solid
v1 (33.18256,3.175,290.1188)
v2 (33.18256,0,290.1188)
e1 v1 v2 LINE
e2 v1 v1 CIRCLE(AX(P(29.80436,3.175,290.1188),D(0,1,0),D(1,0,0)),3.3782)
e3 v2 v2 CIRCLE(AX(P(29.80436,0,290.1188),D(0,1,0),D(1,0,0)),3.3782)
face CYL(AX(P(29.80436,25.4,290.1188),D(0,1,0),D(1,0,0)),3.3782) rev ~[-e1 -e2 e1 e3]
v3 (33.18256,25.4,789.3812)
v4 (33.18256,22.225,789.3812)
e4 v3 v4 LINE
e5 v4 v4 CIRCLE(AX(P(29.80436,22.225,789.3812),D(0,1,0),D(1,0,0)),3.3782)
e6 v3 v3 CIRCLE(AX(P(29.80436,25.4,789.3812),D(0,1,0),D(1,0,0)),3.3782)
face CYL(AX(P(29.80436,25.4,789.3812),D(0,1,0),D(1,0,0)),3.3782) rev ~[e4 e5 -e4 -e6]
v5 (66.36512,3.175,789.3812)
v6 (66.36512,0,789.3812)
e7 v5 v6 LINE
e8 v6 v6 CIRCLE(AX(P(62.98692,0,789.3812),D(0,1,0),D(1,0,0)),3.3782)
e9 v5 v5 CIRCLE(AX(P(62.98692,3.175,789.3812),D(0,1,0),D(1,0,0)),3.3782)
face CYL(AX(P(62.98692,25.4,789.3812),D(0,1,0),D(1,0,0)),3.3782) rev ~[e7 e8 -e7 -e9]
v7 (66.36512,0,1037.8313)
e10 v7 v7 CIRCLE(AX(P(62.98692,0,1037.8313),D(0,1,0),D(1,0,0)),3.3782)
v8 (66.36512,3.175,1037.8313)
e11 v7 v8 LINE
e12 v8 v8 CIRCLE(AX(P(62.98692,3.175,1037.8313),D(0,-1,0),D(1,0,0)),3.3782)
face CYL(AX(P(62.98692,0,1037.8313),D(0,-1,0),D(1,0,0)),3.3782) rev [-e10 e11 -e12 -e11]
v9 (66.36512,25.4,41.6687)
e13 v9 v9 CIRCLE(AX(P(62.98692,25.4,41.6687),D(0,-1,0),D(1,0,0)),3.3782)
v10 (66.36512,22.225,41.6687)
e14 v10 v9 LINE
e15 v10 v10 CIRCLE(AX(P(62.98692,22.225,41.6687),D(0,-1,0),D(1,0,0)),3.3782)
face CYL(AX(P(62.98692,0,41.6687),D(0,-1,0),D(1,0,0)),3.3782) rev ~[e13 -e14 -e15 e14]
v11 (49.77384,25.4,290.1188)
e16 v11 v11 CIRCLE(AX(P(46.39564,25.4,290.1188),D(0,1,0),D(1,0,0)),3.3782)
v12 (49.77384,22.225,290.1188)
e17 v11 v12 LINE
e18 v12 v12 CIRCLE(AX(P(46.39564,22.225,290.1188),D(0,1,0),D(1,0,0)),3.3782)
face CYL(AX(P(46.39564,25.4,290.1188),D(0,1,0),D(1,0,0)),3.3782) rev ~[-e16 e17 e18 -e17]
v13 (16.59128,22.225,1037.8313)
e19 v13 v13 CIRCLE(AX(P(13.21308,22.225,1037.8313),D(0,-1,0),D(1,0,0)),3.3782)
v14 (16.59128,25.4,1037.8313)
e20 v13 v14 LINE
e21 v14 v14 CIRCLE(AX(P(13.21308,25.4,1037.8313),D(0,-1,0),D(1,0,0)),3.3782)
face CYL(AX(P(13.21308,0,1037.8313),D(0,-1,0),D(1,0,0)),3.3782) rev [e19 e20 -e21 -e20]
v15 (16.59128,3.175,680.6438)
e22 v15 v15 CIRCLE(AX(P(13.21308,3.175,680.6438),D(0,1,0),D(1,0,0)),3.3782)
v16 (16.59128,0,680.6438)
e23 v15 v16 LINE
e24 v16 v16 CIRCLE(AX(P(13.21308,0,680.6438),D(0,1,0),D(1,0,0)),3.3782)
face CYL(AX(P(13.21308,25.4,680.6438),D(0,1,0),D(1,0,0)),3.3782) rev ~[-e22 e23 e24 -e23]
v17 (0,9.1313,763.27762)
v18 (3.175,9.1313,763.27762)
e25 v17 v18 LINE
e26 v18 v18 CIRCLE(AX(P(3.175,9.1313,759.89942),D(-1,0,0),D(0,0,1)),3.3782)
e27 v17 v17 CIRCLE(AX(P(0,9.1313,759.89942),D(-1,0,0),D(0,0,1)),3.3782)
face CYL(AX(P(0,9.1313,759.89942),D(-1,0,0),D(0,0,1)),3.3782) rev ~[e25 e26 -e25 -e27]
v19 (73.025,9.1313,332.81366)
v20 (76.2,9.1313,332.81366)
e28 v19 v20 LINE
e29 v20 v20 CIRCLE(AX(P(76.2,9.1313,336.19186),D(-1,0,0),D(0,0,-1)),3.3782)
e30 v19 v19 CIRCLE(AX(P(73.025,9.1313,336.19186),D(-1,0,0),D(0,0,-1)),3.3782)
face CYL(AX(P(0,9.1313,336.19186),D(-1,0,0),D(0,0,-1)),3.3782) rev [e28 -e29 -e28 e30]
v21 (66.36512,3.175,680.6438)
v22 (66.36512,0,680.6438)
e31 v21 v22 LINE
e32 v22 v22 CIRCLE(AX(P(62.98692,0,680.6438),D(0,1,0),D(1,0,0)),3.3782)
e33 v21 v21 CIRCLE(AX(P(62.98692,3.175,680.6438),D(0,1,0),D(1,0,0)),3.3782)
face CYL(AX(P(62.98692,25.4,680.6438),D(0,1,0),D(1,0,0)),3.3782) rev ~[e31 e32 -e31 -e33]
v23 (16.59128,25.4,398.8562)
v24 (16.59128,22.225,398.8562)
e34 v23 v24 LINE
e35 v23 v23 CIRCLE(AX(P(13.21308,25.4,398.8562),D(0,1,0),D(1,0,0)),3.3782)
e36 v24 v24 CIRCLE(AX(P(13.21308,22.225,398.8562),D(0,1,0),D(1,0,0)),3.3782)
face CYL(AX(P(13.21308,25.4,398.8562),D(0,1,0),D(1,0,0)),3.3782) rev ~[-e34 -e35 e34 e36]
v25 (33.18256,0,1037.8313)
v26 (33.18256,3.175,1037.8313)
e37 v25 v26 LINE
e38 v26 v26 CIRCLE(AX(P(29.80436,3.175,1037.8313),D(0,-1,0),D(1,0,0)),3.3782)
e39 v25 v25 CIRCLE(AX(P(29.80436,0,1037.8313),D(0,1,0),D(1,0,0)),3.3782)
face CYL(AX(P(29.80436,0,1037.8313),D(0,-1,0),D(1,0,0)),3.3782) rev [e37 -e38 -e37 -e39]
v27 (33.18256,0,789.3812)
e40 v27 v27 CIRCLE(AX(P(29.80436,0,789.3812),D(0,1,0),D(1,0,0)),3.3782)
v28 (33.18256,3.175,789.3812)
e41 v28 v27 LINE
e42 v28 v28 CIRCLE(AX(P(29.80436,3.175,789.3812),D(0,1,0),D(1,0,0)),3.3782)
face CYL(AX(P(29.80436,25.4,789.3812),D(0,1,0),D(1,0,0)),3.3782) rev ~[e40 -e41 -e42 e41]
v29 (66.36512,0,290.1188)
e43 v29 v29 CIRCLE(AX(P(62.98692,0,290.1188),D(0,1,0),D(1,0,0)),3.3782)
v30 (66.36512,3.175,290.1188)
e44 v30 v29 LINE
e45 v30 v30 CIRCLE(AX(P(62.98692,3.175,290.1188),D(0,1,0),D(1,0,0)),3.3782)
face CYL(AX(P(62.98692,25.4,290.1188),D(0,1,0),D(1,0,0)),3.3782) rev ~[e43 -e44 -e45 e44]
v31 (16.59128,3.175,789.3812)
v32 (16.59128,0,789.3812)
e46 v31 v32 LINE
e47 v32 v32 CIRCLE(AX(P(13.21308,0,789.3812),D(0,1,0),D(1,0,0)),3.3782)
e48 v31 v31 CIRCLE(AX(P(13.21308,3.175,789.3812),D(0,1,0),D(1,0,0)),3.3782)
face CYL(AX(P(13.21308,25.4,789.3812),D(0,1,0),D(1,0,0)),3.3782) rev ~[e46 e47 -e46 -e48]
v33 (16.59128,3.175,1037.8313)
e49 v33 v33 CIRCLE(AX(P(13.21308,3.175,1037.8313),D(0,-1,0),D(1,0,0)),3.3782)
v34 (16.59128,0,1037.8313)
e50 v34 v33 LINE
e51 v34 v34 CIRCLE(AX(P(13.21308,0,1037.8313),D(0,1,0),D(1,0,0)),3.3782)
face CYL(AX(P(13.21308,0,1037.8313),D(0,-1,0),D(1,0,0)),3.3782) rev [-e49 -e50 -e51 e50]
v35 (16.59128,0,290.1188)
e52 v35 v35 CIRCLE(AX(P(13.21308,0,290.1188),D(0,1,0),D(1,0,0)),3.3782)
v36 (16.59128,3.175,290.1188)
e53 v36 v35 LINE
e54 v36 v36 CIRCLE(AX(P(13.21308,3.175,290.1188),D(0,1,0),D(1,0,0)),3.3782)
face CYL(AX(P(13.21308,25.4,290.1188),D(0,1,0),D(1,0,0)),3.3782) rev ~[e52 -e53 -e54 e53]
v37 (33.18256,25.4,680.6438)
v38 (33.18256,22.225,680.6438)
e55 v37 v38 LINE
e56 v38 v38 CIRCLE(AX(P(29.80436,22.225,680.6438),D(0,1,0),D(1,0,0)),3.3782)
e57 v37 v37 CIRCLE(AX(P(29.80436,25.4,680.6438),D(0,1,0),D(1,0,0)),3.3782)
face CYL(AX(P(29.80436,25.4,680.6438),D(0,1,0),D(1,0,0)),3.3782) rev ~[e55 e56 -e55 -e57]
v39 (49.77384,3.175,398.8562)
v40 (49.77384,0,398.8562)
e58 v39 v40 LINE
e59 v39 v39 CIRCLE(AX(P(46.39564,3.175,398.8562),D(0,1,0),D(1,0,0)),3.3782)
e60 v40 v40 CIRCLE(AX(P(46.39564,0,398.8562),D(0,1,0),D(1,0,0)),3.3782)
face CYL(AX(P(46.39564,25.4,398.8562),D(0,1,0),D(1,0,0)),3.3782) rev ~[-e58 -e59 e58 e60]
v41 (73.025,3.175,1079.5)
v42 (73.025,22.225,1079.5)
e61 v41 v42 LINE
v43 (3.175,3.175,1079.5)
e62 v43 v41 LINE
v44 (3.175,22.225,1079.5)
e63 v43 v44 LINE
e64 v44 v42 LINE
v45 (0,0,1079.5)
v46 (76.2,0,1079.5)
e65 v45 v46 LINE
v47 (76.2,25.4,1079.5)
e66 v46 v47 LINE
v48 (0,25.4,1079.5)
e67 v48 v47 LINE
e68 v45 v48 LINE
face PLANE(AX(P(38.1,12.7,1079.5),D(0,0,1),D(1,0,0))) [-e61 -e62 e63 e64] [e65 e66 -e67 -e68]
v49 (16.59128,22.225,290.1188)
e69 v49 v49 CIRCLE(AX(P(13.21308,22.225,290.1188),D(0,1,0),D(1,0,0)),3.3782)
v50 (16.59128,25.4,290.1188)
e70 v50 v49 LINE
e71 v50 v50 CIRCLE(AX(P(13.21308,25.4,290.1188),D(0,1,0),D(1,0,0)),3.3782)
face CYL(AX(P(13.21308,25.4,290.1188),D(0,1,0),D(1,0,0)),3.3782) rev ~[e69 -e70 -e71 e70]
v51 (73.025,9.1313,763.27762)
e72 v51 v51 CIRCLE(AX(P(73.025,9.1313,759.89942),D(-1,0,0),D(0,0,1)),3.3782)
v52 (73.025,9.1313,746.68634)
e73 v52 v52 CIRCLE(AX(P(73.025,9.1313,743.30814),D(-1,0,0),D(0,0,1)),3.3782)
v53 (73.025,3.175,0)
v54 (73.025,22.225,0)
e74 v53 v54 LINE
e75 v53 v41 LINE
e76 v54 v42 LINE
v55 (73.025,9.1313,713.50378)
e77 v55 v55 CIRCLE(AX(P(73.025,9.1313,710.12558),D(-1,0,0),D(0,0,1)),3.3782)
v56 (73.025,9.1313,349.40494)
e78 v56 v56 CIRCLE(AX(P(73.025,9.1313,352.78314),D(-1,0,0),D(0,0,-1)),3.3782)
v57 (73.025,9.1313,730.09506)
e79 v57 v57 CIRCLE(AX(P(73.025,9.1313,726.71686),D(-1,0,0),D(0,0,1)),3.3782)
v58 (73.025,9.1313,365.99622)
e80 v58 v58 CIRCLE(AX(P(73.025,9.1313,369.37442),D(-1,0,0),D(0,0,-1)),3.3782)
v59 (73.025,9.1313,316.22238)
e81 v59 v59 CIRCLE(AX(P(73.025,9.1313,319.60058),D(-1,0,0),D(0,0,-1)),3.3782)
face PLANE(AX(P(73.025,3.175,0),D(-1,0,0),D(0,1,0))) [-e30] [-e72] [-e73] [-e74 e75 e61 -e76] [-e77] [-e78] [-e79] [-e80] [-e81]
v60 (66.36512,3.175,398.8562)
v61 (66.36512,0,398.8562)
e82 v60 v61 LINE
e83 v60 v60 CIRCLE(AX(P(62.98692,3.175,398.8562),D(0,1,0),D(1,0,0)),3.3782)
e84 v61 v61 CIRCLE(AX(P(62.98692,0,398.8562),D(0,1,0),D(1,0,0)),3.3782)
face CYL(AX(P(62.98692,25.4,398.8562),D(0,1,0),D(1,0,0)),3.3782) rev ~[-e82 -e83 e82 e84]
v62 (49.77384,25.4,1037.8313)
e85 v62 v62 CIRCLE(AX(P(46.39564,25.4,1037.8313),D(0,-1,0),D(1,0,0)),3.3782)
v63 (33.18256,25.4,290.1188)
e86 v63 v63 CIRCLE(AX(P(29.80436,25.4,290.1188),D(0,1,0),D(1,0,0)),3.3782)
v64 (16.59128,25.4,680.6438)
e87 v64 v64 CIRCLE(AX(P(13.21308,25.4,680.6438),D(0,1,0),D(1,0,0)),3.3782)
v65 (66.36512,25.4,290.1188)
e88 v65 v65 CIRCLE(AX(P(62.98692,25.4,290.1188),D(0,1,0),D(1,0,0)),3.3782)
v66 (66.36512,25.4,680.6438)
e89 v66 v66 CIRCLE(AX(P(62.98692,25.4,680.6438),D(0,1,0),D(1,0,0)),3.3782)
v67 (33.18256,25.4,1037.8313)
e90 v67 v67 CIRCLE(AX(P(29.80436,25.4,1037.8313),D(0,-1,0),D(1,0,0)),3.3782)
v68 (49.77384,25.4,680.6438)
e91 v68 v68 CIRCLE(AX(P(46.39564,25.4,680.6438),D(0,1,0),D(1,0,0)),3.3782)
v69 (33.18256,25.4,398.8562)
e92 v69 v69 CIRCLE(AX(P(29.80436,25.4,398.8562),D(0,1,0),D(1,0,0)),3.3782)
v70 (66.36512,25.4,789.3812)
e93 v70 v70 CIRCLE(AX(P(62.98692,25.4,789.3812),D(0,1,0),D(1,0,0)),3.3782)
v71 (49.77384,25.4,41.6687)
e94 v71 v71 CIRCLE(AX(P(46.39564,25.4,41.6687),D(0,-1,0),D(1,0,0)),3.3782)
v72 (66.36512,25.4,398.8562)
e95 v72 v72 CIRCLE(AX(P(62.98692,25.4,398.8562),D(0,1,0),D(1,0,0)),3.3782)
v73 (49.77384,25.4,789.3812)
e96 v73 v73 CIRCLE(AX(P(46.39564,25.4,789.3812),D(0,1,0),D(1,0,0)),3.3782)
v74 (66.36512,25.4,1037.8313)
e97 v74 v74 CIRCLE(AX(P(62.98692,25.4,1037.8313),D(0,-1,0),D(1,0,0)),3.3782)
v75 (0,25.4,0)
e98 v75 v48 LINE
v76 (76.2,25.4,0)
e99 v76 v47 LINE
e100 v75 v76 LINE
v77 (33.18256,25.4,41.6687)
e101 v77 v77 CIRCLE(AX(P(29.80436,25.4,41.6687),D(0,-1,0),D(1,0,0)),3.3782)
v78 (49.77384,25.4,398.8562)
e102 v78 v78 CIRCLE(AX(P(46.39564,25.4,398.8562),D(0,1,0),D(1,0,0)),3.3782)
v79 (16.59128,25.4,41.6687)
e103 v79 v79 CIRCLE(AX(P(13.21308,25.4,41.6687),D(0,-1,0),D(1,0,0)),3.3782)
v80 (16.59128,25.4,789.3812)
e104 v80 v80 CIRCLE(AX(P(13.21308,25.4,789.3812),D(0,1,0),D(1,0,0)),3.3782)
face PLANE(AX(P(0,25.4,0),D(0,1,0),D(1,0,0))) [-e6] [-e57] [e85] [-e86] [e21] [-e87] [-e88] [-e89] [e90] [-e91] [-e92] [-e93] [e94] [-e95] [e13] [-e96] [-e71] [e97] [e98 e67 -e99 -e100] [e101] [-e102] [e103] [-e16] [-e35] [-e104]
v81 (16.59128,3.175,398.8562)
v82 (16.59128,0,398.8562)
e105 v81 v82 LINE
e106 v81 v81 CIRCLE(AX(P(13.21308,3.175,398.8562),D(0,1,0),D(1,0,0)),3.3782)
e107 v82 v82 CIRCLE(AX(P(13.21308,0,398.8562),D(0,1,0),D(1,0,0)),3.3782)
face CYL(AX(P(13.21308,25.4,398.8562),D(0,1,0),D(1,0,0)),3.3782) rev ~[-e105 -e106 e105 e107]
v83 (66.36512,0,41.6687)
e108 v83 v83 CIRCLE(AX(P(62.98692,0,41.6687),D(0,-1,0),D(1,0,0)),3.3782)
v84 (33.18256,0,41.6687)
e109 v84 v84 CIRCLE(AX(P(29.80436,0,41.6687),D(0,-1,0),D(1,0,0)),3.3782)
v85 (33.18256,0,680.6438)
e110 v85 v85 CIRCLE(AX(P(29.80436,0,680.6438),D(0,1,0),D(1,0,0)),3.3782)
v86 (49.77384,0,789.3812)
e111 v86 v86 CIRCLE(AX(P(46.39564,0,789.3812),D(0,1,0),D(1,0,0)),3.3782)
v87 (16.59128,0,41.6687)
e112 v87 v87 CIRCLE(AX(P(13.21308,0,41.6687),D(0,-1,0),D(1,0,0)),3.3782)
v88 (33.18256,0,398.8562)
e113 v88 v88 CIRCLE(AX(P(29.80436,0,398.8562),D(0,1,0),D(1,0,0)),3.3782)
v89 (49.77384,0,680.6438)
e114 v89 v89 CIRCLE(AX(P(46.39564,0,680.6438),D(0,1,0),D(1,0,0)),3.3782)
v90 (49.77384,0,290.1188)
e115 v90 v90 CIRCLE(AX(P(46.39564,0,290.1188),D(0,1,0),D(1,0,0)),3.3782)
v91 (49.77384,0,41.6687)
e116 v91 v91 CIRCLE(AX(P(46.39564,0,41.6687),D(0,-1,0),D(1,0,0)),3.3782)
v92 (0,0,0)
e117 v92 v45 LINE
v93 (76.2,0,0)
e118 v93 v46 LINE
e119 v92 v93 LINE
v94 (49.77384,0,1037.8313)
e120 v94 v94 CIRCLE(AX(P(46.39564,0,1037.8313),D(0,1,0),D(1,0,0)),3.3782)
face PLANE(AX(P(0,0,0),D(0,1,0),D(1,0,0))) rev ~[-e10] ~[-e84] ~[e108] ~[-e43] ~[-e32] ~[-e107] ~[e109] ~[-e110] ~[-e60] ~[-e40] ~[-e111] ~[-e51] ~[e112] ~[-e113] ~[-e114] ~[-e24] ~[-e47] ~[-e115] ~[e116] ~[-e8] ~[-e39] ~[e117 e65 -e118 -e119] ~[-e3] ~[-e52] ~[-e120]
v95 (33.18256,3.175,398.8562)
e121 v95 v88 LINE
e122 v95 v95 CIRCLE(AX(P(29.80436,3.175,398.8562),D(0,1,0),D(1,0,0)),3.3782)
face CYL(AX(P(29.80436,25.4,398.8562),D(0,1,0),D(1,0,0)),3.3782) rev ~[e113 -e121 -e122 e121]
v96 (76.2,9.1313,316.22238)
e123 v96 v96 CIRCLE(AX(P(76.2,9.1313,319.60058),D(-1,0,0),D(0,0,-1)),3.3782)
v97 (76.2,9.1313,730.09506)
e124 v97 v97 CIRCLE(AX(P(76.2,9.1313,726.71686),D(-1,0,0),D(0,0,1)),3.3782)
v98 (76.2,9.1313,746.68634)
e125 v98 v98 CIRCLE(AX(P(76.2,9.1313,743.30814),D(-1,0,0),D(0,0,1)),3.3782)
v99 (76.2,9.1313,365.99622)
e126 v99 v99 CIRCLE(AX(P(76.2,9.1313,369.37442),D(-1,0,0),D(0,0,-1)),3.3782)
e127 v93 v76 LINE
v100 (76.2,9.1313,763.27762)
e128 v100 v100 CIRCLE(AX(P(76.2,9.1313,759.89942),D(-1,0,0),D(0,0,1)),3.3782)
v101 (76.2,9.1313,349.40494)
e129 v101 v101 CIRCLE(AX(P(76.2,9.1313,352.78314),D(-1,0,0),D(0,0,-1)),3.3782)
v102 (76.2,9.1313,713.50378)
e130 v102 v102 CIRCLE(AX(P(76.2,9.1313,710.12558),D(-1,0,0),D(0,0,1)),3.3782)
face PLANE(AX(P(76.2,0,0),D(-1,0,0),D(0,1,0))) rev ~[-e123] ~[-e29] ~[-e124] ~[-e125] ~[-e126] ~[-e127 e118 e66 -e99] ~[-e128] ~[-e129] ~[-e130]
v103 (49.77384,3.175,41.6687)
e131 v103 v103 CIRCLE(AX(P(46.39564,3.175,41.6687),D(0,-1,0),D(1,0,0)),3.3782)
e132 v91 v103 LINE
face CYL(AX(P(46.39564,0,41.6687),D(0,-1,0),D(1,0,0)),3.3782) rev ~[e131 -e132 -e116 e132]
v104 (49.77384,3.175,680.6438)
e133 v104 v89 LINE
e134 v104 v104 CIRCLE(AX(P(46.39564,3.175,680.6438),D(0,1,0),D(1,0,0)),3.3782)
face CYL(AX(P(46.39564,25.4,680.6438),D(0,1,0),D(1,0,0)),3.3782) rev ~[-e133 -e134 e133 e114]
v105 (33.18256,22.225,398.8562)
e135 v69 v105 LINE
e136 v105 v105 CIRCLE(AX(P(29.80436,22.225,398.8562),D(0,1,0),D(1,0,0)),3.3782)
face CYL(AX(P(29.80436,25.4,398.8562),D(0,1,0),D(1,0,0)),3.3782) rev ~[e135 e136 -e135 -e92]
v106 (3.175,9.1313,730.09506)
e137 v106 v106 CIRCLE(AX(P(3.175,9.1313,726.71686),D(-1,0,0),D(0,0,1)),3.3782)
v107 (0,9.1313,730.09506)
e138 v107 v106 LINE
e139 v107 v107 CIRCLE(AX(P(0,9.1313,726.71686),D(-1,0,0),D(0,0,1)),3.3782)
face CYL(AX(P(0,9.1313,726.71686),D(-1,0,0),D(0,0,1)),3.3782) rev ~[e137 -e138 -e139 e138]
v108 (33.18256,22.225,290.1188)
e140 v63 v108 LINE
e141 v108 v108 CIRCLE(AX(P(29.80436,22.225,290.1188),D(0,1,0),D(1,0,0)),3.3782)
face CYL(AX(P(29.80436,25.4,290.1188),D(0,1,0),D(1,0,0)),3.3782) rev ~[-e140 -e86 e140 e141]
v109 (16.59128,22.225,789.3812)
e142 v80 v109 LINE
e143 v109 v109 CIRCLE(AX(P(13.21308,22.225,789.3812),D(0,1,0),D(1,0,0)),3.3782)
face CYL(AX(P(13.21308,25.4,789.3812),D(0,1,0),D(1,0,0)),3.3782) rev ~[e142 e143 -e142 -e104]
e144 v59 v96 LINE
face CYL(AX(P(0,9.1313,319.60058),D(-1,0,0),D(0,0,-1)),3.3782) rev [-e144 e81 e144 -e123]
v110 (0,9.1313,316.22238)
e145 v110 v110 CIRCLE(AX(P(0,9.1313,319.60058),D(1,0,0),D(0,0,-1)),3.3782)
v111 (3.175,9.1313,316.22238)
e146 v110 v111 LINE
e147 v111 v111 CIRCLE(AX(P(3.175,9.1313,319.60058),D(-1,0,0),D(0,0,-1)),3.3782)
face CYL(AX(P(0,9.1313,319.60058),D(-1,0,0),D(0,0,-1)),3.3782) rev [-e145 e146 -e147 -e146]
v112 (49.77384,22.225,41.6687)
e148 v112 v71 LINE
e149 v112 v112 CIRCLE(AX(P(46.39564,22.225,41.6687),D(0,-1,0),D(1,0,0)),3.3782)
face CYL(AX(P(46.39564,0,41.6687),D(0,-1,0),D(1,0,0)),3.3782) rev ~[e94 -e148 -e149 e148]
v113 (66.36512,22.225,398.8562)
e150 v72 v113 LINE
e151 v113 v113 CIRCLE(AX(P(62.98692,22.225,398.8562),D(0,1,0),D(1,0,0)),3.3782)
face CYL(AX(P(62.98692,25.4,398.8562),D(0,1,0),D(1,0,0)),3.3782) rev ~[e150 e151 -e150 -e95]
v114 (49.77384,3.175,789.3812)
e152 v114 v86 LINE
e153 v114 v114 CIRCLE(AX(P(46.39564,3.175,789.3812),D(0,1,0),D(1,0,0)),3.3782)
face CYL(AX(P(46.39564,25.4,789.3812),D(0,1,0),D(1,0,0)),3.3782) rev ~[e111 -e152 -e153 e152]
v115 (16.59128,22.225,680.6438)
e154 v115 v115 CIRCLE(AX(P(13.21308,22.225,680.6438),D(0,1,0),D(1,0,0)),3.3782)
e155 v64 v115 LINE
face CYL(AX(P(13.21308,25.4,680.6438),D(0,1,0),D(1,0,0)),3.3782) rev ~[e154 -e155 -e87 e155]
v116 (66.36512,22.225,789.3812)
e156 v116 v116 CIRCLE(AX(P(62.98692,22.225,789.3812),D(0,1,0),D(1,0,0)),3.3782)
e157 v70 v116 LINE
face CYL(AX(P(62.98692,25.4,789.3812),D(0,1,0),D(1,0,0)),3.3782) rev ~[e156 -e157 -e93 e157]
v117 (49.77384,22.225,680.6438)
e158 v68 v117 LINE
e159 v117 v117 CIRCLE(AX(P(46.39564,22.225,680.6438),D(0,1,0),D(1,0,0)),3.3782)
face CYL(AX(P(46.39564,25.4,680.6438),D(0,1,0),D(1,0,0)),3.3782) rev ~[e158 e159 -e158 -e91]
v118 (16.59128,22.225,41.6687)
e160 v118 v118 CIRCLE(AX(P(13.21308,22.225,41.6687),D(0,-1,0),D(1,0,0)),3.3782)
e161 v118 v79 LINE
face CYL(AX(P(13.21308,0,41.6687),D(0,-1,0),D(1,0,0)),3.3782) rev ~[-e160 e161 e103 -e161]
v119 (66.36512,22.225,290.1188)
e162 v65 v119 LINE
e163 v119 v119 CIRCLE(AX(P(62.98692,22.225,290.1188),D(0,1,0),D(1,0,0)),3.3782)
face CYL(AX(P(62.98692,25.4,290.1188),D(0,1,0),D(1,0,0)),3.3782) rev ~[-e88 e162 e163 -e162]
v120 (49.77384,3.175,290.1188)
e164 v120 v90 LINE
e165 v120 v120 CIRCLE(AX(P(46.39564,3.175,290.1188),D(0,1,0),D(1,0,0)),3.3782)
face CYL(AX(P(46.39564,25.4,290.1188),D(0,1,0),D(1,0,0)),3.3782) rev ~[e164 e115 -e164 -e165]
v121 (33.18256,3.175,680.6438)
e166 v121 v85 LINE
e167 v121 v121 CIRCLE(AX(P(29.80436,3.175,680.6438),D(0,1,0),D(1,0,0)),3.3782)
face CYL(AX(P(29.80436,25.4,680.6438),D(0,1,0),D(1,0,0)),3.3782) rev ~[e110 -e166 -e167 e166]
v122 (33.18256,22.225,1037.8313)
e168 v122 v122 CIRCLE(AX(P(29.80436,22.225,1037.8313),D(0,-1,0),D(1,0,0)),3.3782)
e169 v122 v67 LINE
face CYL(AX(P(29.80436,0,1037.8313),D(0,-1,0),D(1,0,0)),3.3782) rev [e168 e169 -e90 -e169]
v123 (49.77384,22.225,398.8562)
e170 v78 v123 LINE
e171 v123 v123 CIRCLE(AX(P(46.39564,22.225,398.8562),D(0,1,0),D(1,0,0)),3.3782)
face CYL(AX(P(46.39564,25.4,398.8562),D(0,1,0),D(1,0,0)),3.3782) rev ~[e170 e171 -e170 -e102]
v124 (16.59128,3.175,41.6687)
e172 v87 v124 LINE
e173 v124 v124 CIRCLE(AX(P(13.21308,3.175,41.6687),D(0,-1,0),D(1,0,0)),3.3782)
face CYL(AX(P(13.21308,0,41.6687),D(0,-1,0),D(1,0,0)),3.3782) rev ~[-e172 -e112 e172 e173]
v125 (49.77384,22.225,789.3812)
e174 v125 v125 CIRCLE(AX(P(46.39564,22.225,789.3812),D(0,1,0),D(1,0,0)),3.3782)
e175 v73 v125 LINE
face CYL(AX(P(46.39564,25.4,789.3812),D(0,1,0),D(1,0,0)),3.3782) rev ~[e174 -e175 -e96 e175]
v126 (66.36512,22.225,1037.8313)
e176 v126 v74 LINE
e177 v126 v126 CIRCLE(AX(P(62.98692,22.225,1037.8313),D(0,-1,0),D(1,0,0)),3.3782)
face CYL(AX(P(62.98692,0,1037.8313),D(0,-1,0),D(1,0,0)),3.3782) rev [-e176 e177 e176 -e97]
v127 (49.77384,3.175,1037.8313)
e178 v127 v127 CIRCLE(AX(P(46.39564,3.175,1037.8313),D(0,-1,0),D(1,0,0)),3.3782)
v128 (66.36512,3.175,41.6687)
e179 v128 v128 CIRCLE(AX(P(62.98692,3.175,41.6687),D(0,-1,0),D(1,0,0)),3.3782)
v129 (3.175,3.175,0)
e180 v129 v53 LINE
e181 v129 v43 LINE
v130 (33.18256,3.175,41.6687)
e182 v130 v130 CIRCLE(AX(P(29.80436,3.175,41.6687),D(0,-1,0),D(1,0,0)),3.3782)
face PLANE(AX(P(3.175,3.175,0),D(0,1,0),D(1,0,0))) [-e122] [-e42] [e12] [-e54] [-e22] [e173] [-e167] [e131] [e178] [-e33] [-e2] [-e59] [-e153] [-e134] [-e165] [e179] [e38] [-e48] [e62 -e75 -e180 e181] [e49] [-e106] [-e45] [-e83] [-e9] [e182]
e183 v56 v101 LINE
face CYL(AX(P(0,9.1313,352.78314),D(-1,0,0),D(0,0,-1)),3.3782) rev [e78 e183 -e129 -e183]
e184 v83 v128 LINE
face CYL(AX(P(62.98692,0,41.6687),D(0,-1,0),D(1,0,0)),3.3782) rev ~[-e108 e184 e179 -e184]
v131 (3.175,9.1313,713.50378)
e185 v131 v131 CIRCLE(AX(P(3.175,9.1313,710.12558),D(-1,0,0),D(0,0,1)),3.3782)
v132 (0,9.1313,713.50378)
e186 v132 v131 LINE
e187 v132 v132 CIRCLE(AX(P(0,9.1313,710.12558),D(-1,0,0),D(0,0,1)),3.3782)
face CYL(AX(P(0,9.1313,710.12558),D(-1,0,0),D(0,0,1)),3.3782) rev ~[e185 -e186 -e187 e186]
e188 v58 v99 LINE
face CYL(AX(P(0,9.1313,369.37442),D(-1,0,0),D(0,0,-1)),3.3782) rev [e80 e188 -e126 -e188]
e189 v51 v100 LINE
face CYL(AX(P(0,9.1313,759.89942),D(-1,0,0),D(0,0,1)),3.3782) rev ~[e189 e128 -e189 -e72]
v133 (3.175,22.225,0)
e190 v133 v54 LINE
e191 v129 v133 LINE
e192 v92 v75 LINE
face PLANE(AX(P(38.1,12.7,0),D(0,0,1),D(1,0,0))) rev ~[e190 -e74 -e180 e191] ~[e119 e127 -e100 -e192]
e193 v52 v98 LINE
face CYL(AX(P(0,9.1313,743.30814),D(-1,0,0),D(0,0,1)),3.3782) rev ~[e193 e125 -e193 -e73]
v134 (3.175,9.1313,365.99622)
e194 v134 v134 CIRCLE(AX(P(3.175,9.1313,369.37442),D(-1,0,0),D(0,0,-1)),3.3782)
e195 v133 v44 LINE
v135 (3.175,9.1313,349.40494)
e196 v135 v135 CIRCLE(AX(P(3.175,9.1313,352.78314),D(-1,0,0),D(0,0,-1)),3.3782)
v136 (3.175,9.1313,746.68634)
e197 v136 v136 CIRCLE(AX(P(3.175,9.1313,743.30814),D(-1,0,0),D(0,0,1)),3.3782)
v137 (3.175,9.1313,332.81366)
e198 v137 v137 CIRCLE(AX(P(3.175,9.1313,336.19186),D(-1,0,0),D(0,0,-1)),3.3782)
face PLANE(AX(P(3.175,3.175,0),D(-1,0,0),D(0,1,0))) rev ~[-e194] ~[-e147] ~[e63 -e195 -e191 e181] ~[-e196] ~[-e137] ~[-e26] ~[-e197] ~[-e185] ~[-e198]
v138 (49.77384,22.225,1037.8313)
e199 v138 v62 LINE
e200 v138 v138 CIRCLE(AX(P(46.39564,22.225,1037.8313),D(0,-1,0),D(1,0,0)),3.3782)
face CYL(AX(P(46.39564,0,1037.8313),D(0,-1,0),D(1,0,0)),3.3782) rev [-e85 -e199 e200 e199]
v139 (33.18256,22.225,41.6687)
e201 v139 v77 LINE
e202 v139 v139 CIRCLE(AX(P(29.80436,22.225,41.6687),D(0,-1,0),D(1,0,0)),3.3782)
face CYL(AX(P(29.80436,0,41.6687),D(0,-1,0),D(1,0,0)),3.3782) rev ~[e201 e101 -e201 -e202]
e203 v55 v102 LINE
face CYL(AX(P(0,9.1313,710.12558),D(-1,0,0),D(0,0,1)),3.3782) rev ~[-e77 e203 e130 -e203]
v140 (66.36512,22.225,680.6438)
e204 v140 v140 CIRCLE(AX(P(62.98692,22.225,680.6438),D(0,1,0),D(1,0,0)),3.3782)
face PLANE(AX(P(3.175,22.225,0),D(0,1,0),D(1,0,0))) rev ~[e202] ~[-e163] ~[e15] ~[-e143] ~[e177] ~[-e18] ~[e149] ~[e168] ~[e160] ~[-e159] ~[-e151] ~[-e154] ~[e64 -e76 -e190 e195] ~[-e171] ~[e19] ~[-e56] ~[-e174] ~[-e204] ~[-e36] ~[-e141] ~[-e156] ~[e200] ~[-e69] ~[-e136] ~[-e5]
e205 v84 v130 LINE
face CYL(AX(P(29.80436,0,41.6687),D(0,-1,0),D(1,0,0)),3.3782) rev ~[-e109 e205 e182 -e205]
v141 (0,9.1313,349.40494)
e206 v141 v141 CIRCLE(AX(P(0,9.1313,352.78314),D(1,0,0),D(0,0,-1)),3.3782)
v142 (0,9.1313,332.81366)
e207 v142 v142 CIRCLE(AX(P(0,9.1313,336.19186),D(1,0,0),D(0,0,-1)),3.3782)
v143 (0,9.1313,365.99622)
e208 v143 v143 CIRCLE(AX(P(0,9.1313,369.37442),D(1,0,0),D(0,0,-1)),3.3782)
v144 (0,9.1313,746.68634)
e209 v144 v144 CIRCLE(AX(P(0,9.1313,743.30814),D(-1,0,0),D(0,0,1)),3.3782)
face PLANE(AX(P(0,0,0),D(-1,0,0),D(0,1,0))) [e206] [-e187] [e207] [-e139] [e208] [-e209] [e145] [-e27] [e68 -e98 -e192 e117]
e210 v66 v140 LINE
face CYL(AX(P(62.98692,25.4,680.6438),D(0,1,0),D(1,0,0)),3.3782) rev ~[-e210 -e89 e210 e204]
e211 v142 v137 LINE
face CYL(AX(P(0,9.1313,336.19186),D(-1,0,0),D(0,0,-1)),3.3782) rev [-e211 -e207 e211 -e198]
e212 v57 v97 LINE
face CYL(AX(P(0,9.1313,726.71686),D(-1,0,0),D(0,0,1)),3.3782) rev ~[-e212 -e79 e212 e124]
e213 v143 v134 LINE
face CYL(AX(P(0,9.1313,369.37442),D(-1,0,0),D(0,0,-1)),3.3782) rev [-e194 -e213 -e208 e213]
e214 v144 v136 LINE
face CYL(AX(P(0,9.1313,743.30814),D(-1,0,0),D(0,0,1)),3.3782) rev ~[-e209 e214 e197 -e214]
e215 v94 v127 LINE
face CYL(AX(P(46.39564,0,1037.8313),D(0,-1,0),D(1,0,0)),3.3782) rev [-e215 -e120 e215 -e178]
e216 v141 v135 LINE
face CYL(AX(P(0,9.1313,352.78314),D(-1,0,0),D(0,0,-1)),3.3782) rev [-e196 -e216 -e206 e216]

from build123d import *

# Parameters (mm, degrees)
SKETCH1_W           = 76.2
SKETCH1_H           = 25.4
SKETCH1_W_2         = 69.85
SKETCH1_H_2         = 19.05
BOSS_EXTRUDE1_DEPTH = 1079.5
SKETCH2_R           = 3.3782
CUT_EXTRUDE1_DEPTH  = 26.4
SKETCH3_R           = 3.3782
CUT_EXTRUDE2_DEPTH  = 26.4
SKETCH4_R           = 3.3782
CUT_EXTRUDE3_DEPTH  = 77.2


with BuildPart() as part:
    # Sketch1 → Boss-Extrude1 (new body)
    with BuildSketch(Plane.XY):
        with Locations((38.1, 12.7)):
            Rectangle(SKETCH1_W, SKETCH1_H)
        with Locations((38.1, 12.7)):
            Rectangle(SKETCH1_W_2, SKETCH1_H_2, mode=Mode.SUBTRACT)
    extrude(amount=BOSS_EXTRUDE1_DEPTH)

    # Sketch2 → Cut-Extrude1 (cut, through all)
    with BuildSketch(Plane.XZ):
        with Locations((13.21308, 41.6687)):
            Circle(SKETCH2_R)
        with Locations((29.80436, 41.6687)):
            Circle(SKETCH2_R)
        with Locations((46.39564, 41.6687)):
            Circle(SKETCH2_R)
        with Locations((62.98692, 41.6687)):
            Circle(SKETCH2_R)
    cut_extrude1 = extrude(amount=-CUT_EXTRUDE1_DEPTH, mode=Mode.SUBTRACT)

    # Mirror1: Cut-Extrude1 across plane
    add(cut_extrude1.mirror(Plane(origin=(0, 0, 539.75), x_dir=(1, 0, 0), z_dir=(0, 0, -1))), mode=Mode.SUBTRACT)

    # Sketch3 → Cut-Extrude2 (cut, through all)
    with BuildSketch(Plane(origin=(0, 25.4, 0), x_dir=(1, 0, 0), z_dir=(0, 1, 0))):
        with Locations((13.21308, -789.3812)):
            Circle(SKETCH3_R)
        with Locations((29.80436, -789.3812)):
            Circle(SKETCH3_R)
        with Locations((46.39564, -789.3812)):
            Circle(SKETCH3_R)
        with Locations((62.98692, -789.3812)):
            Circle(SKETCH3_R)
        with Locations((29.80436, -680.6438)):
            Circle(SKETCH3_R)
        with Locations((46.39564, -680.6438)):
            Circle(SKETCH3_R)
        with Locations((62.98692, -680.6438)):
            Circle(SKETCH3_R)
        with Locations((13.21308, -290.1188)):
            Circle(SKETCH3_R)
        with Locations((29.80436, -290.1188)):
            Circle(SKETCH3_R)
        with Locations((46.39564, -290.1188)):
            Circle(SKETCH3_R)
        with Locations((62.98692, -290.1188)):
            Circle(SKETCH3_R)
        with Locations((13.21308, -398.8562)):
            Circle(SKETCH3_R)
        with Locations((29.80436, -398.8562)):
            Circle(SKETCH3_R)
        with Locations((46.39564, -398.8562)):
            Circle(SKETCH3_R)
        with Locations((62.98692, -398.8562)):
            Circle(SKETCH3_R)
        with Locations((13.21308, -680.6438)):
            Circle(SKETCH3_R)
    extrude(amount=-CUT_EXTRUDE2_DEPTH, mode=Mode.SUBTRACT)

    # Sketch4 → Cut-Extrude3 (cut, through all)
    with BuildSketch(Plane.ZY):
        with Locations((710.12558, 9.1313)):
            Circle(SKETCH4_R)
        with Locations((759.89942, 9.1313)):
            Circle(SKETCH4_R)
        with Locations((743.30814, 9.1313)):
            Circle(SKETCH4_R)
        with Locations((726.71686, 9.1313)):
            Circle(SKETCH4_R)
    cut_extrude3 = extrude(amount=-CUT_EXTRUDE3_DEPTH, mode=Mode.SUBTRACT)

    # Mirror2: Cut-Extrude3 across plane
    add(cut_extrude3.mirror(Plane(origin=(0, 0, 539.75), x_dir=(1, 0, 0), z_dir=(0, 0, -1))), mode=Mode.SUBTRACT)


solid = part.part
